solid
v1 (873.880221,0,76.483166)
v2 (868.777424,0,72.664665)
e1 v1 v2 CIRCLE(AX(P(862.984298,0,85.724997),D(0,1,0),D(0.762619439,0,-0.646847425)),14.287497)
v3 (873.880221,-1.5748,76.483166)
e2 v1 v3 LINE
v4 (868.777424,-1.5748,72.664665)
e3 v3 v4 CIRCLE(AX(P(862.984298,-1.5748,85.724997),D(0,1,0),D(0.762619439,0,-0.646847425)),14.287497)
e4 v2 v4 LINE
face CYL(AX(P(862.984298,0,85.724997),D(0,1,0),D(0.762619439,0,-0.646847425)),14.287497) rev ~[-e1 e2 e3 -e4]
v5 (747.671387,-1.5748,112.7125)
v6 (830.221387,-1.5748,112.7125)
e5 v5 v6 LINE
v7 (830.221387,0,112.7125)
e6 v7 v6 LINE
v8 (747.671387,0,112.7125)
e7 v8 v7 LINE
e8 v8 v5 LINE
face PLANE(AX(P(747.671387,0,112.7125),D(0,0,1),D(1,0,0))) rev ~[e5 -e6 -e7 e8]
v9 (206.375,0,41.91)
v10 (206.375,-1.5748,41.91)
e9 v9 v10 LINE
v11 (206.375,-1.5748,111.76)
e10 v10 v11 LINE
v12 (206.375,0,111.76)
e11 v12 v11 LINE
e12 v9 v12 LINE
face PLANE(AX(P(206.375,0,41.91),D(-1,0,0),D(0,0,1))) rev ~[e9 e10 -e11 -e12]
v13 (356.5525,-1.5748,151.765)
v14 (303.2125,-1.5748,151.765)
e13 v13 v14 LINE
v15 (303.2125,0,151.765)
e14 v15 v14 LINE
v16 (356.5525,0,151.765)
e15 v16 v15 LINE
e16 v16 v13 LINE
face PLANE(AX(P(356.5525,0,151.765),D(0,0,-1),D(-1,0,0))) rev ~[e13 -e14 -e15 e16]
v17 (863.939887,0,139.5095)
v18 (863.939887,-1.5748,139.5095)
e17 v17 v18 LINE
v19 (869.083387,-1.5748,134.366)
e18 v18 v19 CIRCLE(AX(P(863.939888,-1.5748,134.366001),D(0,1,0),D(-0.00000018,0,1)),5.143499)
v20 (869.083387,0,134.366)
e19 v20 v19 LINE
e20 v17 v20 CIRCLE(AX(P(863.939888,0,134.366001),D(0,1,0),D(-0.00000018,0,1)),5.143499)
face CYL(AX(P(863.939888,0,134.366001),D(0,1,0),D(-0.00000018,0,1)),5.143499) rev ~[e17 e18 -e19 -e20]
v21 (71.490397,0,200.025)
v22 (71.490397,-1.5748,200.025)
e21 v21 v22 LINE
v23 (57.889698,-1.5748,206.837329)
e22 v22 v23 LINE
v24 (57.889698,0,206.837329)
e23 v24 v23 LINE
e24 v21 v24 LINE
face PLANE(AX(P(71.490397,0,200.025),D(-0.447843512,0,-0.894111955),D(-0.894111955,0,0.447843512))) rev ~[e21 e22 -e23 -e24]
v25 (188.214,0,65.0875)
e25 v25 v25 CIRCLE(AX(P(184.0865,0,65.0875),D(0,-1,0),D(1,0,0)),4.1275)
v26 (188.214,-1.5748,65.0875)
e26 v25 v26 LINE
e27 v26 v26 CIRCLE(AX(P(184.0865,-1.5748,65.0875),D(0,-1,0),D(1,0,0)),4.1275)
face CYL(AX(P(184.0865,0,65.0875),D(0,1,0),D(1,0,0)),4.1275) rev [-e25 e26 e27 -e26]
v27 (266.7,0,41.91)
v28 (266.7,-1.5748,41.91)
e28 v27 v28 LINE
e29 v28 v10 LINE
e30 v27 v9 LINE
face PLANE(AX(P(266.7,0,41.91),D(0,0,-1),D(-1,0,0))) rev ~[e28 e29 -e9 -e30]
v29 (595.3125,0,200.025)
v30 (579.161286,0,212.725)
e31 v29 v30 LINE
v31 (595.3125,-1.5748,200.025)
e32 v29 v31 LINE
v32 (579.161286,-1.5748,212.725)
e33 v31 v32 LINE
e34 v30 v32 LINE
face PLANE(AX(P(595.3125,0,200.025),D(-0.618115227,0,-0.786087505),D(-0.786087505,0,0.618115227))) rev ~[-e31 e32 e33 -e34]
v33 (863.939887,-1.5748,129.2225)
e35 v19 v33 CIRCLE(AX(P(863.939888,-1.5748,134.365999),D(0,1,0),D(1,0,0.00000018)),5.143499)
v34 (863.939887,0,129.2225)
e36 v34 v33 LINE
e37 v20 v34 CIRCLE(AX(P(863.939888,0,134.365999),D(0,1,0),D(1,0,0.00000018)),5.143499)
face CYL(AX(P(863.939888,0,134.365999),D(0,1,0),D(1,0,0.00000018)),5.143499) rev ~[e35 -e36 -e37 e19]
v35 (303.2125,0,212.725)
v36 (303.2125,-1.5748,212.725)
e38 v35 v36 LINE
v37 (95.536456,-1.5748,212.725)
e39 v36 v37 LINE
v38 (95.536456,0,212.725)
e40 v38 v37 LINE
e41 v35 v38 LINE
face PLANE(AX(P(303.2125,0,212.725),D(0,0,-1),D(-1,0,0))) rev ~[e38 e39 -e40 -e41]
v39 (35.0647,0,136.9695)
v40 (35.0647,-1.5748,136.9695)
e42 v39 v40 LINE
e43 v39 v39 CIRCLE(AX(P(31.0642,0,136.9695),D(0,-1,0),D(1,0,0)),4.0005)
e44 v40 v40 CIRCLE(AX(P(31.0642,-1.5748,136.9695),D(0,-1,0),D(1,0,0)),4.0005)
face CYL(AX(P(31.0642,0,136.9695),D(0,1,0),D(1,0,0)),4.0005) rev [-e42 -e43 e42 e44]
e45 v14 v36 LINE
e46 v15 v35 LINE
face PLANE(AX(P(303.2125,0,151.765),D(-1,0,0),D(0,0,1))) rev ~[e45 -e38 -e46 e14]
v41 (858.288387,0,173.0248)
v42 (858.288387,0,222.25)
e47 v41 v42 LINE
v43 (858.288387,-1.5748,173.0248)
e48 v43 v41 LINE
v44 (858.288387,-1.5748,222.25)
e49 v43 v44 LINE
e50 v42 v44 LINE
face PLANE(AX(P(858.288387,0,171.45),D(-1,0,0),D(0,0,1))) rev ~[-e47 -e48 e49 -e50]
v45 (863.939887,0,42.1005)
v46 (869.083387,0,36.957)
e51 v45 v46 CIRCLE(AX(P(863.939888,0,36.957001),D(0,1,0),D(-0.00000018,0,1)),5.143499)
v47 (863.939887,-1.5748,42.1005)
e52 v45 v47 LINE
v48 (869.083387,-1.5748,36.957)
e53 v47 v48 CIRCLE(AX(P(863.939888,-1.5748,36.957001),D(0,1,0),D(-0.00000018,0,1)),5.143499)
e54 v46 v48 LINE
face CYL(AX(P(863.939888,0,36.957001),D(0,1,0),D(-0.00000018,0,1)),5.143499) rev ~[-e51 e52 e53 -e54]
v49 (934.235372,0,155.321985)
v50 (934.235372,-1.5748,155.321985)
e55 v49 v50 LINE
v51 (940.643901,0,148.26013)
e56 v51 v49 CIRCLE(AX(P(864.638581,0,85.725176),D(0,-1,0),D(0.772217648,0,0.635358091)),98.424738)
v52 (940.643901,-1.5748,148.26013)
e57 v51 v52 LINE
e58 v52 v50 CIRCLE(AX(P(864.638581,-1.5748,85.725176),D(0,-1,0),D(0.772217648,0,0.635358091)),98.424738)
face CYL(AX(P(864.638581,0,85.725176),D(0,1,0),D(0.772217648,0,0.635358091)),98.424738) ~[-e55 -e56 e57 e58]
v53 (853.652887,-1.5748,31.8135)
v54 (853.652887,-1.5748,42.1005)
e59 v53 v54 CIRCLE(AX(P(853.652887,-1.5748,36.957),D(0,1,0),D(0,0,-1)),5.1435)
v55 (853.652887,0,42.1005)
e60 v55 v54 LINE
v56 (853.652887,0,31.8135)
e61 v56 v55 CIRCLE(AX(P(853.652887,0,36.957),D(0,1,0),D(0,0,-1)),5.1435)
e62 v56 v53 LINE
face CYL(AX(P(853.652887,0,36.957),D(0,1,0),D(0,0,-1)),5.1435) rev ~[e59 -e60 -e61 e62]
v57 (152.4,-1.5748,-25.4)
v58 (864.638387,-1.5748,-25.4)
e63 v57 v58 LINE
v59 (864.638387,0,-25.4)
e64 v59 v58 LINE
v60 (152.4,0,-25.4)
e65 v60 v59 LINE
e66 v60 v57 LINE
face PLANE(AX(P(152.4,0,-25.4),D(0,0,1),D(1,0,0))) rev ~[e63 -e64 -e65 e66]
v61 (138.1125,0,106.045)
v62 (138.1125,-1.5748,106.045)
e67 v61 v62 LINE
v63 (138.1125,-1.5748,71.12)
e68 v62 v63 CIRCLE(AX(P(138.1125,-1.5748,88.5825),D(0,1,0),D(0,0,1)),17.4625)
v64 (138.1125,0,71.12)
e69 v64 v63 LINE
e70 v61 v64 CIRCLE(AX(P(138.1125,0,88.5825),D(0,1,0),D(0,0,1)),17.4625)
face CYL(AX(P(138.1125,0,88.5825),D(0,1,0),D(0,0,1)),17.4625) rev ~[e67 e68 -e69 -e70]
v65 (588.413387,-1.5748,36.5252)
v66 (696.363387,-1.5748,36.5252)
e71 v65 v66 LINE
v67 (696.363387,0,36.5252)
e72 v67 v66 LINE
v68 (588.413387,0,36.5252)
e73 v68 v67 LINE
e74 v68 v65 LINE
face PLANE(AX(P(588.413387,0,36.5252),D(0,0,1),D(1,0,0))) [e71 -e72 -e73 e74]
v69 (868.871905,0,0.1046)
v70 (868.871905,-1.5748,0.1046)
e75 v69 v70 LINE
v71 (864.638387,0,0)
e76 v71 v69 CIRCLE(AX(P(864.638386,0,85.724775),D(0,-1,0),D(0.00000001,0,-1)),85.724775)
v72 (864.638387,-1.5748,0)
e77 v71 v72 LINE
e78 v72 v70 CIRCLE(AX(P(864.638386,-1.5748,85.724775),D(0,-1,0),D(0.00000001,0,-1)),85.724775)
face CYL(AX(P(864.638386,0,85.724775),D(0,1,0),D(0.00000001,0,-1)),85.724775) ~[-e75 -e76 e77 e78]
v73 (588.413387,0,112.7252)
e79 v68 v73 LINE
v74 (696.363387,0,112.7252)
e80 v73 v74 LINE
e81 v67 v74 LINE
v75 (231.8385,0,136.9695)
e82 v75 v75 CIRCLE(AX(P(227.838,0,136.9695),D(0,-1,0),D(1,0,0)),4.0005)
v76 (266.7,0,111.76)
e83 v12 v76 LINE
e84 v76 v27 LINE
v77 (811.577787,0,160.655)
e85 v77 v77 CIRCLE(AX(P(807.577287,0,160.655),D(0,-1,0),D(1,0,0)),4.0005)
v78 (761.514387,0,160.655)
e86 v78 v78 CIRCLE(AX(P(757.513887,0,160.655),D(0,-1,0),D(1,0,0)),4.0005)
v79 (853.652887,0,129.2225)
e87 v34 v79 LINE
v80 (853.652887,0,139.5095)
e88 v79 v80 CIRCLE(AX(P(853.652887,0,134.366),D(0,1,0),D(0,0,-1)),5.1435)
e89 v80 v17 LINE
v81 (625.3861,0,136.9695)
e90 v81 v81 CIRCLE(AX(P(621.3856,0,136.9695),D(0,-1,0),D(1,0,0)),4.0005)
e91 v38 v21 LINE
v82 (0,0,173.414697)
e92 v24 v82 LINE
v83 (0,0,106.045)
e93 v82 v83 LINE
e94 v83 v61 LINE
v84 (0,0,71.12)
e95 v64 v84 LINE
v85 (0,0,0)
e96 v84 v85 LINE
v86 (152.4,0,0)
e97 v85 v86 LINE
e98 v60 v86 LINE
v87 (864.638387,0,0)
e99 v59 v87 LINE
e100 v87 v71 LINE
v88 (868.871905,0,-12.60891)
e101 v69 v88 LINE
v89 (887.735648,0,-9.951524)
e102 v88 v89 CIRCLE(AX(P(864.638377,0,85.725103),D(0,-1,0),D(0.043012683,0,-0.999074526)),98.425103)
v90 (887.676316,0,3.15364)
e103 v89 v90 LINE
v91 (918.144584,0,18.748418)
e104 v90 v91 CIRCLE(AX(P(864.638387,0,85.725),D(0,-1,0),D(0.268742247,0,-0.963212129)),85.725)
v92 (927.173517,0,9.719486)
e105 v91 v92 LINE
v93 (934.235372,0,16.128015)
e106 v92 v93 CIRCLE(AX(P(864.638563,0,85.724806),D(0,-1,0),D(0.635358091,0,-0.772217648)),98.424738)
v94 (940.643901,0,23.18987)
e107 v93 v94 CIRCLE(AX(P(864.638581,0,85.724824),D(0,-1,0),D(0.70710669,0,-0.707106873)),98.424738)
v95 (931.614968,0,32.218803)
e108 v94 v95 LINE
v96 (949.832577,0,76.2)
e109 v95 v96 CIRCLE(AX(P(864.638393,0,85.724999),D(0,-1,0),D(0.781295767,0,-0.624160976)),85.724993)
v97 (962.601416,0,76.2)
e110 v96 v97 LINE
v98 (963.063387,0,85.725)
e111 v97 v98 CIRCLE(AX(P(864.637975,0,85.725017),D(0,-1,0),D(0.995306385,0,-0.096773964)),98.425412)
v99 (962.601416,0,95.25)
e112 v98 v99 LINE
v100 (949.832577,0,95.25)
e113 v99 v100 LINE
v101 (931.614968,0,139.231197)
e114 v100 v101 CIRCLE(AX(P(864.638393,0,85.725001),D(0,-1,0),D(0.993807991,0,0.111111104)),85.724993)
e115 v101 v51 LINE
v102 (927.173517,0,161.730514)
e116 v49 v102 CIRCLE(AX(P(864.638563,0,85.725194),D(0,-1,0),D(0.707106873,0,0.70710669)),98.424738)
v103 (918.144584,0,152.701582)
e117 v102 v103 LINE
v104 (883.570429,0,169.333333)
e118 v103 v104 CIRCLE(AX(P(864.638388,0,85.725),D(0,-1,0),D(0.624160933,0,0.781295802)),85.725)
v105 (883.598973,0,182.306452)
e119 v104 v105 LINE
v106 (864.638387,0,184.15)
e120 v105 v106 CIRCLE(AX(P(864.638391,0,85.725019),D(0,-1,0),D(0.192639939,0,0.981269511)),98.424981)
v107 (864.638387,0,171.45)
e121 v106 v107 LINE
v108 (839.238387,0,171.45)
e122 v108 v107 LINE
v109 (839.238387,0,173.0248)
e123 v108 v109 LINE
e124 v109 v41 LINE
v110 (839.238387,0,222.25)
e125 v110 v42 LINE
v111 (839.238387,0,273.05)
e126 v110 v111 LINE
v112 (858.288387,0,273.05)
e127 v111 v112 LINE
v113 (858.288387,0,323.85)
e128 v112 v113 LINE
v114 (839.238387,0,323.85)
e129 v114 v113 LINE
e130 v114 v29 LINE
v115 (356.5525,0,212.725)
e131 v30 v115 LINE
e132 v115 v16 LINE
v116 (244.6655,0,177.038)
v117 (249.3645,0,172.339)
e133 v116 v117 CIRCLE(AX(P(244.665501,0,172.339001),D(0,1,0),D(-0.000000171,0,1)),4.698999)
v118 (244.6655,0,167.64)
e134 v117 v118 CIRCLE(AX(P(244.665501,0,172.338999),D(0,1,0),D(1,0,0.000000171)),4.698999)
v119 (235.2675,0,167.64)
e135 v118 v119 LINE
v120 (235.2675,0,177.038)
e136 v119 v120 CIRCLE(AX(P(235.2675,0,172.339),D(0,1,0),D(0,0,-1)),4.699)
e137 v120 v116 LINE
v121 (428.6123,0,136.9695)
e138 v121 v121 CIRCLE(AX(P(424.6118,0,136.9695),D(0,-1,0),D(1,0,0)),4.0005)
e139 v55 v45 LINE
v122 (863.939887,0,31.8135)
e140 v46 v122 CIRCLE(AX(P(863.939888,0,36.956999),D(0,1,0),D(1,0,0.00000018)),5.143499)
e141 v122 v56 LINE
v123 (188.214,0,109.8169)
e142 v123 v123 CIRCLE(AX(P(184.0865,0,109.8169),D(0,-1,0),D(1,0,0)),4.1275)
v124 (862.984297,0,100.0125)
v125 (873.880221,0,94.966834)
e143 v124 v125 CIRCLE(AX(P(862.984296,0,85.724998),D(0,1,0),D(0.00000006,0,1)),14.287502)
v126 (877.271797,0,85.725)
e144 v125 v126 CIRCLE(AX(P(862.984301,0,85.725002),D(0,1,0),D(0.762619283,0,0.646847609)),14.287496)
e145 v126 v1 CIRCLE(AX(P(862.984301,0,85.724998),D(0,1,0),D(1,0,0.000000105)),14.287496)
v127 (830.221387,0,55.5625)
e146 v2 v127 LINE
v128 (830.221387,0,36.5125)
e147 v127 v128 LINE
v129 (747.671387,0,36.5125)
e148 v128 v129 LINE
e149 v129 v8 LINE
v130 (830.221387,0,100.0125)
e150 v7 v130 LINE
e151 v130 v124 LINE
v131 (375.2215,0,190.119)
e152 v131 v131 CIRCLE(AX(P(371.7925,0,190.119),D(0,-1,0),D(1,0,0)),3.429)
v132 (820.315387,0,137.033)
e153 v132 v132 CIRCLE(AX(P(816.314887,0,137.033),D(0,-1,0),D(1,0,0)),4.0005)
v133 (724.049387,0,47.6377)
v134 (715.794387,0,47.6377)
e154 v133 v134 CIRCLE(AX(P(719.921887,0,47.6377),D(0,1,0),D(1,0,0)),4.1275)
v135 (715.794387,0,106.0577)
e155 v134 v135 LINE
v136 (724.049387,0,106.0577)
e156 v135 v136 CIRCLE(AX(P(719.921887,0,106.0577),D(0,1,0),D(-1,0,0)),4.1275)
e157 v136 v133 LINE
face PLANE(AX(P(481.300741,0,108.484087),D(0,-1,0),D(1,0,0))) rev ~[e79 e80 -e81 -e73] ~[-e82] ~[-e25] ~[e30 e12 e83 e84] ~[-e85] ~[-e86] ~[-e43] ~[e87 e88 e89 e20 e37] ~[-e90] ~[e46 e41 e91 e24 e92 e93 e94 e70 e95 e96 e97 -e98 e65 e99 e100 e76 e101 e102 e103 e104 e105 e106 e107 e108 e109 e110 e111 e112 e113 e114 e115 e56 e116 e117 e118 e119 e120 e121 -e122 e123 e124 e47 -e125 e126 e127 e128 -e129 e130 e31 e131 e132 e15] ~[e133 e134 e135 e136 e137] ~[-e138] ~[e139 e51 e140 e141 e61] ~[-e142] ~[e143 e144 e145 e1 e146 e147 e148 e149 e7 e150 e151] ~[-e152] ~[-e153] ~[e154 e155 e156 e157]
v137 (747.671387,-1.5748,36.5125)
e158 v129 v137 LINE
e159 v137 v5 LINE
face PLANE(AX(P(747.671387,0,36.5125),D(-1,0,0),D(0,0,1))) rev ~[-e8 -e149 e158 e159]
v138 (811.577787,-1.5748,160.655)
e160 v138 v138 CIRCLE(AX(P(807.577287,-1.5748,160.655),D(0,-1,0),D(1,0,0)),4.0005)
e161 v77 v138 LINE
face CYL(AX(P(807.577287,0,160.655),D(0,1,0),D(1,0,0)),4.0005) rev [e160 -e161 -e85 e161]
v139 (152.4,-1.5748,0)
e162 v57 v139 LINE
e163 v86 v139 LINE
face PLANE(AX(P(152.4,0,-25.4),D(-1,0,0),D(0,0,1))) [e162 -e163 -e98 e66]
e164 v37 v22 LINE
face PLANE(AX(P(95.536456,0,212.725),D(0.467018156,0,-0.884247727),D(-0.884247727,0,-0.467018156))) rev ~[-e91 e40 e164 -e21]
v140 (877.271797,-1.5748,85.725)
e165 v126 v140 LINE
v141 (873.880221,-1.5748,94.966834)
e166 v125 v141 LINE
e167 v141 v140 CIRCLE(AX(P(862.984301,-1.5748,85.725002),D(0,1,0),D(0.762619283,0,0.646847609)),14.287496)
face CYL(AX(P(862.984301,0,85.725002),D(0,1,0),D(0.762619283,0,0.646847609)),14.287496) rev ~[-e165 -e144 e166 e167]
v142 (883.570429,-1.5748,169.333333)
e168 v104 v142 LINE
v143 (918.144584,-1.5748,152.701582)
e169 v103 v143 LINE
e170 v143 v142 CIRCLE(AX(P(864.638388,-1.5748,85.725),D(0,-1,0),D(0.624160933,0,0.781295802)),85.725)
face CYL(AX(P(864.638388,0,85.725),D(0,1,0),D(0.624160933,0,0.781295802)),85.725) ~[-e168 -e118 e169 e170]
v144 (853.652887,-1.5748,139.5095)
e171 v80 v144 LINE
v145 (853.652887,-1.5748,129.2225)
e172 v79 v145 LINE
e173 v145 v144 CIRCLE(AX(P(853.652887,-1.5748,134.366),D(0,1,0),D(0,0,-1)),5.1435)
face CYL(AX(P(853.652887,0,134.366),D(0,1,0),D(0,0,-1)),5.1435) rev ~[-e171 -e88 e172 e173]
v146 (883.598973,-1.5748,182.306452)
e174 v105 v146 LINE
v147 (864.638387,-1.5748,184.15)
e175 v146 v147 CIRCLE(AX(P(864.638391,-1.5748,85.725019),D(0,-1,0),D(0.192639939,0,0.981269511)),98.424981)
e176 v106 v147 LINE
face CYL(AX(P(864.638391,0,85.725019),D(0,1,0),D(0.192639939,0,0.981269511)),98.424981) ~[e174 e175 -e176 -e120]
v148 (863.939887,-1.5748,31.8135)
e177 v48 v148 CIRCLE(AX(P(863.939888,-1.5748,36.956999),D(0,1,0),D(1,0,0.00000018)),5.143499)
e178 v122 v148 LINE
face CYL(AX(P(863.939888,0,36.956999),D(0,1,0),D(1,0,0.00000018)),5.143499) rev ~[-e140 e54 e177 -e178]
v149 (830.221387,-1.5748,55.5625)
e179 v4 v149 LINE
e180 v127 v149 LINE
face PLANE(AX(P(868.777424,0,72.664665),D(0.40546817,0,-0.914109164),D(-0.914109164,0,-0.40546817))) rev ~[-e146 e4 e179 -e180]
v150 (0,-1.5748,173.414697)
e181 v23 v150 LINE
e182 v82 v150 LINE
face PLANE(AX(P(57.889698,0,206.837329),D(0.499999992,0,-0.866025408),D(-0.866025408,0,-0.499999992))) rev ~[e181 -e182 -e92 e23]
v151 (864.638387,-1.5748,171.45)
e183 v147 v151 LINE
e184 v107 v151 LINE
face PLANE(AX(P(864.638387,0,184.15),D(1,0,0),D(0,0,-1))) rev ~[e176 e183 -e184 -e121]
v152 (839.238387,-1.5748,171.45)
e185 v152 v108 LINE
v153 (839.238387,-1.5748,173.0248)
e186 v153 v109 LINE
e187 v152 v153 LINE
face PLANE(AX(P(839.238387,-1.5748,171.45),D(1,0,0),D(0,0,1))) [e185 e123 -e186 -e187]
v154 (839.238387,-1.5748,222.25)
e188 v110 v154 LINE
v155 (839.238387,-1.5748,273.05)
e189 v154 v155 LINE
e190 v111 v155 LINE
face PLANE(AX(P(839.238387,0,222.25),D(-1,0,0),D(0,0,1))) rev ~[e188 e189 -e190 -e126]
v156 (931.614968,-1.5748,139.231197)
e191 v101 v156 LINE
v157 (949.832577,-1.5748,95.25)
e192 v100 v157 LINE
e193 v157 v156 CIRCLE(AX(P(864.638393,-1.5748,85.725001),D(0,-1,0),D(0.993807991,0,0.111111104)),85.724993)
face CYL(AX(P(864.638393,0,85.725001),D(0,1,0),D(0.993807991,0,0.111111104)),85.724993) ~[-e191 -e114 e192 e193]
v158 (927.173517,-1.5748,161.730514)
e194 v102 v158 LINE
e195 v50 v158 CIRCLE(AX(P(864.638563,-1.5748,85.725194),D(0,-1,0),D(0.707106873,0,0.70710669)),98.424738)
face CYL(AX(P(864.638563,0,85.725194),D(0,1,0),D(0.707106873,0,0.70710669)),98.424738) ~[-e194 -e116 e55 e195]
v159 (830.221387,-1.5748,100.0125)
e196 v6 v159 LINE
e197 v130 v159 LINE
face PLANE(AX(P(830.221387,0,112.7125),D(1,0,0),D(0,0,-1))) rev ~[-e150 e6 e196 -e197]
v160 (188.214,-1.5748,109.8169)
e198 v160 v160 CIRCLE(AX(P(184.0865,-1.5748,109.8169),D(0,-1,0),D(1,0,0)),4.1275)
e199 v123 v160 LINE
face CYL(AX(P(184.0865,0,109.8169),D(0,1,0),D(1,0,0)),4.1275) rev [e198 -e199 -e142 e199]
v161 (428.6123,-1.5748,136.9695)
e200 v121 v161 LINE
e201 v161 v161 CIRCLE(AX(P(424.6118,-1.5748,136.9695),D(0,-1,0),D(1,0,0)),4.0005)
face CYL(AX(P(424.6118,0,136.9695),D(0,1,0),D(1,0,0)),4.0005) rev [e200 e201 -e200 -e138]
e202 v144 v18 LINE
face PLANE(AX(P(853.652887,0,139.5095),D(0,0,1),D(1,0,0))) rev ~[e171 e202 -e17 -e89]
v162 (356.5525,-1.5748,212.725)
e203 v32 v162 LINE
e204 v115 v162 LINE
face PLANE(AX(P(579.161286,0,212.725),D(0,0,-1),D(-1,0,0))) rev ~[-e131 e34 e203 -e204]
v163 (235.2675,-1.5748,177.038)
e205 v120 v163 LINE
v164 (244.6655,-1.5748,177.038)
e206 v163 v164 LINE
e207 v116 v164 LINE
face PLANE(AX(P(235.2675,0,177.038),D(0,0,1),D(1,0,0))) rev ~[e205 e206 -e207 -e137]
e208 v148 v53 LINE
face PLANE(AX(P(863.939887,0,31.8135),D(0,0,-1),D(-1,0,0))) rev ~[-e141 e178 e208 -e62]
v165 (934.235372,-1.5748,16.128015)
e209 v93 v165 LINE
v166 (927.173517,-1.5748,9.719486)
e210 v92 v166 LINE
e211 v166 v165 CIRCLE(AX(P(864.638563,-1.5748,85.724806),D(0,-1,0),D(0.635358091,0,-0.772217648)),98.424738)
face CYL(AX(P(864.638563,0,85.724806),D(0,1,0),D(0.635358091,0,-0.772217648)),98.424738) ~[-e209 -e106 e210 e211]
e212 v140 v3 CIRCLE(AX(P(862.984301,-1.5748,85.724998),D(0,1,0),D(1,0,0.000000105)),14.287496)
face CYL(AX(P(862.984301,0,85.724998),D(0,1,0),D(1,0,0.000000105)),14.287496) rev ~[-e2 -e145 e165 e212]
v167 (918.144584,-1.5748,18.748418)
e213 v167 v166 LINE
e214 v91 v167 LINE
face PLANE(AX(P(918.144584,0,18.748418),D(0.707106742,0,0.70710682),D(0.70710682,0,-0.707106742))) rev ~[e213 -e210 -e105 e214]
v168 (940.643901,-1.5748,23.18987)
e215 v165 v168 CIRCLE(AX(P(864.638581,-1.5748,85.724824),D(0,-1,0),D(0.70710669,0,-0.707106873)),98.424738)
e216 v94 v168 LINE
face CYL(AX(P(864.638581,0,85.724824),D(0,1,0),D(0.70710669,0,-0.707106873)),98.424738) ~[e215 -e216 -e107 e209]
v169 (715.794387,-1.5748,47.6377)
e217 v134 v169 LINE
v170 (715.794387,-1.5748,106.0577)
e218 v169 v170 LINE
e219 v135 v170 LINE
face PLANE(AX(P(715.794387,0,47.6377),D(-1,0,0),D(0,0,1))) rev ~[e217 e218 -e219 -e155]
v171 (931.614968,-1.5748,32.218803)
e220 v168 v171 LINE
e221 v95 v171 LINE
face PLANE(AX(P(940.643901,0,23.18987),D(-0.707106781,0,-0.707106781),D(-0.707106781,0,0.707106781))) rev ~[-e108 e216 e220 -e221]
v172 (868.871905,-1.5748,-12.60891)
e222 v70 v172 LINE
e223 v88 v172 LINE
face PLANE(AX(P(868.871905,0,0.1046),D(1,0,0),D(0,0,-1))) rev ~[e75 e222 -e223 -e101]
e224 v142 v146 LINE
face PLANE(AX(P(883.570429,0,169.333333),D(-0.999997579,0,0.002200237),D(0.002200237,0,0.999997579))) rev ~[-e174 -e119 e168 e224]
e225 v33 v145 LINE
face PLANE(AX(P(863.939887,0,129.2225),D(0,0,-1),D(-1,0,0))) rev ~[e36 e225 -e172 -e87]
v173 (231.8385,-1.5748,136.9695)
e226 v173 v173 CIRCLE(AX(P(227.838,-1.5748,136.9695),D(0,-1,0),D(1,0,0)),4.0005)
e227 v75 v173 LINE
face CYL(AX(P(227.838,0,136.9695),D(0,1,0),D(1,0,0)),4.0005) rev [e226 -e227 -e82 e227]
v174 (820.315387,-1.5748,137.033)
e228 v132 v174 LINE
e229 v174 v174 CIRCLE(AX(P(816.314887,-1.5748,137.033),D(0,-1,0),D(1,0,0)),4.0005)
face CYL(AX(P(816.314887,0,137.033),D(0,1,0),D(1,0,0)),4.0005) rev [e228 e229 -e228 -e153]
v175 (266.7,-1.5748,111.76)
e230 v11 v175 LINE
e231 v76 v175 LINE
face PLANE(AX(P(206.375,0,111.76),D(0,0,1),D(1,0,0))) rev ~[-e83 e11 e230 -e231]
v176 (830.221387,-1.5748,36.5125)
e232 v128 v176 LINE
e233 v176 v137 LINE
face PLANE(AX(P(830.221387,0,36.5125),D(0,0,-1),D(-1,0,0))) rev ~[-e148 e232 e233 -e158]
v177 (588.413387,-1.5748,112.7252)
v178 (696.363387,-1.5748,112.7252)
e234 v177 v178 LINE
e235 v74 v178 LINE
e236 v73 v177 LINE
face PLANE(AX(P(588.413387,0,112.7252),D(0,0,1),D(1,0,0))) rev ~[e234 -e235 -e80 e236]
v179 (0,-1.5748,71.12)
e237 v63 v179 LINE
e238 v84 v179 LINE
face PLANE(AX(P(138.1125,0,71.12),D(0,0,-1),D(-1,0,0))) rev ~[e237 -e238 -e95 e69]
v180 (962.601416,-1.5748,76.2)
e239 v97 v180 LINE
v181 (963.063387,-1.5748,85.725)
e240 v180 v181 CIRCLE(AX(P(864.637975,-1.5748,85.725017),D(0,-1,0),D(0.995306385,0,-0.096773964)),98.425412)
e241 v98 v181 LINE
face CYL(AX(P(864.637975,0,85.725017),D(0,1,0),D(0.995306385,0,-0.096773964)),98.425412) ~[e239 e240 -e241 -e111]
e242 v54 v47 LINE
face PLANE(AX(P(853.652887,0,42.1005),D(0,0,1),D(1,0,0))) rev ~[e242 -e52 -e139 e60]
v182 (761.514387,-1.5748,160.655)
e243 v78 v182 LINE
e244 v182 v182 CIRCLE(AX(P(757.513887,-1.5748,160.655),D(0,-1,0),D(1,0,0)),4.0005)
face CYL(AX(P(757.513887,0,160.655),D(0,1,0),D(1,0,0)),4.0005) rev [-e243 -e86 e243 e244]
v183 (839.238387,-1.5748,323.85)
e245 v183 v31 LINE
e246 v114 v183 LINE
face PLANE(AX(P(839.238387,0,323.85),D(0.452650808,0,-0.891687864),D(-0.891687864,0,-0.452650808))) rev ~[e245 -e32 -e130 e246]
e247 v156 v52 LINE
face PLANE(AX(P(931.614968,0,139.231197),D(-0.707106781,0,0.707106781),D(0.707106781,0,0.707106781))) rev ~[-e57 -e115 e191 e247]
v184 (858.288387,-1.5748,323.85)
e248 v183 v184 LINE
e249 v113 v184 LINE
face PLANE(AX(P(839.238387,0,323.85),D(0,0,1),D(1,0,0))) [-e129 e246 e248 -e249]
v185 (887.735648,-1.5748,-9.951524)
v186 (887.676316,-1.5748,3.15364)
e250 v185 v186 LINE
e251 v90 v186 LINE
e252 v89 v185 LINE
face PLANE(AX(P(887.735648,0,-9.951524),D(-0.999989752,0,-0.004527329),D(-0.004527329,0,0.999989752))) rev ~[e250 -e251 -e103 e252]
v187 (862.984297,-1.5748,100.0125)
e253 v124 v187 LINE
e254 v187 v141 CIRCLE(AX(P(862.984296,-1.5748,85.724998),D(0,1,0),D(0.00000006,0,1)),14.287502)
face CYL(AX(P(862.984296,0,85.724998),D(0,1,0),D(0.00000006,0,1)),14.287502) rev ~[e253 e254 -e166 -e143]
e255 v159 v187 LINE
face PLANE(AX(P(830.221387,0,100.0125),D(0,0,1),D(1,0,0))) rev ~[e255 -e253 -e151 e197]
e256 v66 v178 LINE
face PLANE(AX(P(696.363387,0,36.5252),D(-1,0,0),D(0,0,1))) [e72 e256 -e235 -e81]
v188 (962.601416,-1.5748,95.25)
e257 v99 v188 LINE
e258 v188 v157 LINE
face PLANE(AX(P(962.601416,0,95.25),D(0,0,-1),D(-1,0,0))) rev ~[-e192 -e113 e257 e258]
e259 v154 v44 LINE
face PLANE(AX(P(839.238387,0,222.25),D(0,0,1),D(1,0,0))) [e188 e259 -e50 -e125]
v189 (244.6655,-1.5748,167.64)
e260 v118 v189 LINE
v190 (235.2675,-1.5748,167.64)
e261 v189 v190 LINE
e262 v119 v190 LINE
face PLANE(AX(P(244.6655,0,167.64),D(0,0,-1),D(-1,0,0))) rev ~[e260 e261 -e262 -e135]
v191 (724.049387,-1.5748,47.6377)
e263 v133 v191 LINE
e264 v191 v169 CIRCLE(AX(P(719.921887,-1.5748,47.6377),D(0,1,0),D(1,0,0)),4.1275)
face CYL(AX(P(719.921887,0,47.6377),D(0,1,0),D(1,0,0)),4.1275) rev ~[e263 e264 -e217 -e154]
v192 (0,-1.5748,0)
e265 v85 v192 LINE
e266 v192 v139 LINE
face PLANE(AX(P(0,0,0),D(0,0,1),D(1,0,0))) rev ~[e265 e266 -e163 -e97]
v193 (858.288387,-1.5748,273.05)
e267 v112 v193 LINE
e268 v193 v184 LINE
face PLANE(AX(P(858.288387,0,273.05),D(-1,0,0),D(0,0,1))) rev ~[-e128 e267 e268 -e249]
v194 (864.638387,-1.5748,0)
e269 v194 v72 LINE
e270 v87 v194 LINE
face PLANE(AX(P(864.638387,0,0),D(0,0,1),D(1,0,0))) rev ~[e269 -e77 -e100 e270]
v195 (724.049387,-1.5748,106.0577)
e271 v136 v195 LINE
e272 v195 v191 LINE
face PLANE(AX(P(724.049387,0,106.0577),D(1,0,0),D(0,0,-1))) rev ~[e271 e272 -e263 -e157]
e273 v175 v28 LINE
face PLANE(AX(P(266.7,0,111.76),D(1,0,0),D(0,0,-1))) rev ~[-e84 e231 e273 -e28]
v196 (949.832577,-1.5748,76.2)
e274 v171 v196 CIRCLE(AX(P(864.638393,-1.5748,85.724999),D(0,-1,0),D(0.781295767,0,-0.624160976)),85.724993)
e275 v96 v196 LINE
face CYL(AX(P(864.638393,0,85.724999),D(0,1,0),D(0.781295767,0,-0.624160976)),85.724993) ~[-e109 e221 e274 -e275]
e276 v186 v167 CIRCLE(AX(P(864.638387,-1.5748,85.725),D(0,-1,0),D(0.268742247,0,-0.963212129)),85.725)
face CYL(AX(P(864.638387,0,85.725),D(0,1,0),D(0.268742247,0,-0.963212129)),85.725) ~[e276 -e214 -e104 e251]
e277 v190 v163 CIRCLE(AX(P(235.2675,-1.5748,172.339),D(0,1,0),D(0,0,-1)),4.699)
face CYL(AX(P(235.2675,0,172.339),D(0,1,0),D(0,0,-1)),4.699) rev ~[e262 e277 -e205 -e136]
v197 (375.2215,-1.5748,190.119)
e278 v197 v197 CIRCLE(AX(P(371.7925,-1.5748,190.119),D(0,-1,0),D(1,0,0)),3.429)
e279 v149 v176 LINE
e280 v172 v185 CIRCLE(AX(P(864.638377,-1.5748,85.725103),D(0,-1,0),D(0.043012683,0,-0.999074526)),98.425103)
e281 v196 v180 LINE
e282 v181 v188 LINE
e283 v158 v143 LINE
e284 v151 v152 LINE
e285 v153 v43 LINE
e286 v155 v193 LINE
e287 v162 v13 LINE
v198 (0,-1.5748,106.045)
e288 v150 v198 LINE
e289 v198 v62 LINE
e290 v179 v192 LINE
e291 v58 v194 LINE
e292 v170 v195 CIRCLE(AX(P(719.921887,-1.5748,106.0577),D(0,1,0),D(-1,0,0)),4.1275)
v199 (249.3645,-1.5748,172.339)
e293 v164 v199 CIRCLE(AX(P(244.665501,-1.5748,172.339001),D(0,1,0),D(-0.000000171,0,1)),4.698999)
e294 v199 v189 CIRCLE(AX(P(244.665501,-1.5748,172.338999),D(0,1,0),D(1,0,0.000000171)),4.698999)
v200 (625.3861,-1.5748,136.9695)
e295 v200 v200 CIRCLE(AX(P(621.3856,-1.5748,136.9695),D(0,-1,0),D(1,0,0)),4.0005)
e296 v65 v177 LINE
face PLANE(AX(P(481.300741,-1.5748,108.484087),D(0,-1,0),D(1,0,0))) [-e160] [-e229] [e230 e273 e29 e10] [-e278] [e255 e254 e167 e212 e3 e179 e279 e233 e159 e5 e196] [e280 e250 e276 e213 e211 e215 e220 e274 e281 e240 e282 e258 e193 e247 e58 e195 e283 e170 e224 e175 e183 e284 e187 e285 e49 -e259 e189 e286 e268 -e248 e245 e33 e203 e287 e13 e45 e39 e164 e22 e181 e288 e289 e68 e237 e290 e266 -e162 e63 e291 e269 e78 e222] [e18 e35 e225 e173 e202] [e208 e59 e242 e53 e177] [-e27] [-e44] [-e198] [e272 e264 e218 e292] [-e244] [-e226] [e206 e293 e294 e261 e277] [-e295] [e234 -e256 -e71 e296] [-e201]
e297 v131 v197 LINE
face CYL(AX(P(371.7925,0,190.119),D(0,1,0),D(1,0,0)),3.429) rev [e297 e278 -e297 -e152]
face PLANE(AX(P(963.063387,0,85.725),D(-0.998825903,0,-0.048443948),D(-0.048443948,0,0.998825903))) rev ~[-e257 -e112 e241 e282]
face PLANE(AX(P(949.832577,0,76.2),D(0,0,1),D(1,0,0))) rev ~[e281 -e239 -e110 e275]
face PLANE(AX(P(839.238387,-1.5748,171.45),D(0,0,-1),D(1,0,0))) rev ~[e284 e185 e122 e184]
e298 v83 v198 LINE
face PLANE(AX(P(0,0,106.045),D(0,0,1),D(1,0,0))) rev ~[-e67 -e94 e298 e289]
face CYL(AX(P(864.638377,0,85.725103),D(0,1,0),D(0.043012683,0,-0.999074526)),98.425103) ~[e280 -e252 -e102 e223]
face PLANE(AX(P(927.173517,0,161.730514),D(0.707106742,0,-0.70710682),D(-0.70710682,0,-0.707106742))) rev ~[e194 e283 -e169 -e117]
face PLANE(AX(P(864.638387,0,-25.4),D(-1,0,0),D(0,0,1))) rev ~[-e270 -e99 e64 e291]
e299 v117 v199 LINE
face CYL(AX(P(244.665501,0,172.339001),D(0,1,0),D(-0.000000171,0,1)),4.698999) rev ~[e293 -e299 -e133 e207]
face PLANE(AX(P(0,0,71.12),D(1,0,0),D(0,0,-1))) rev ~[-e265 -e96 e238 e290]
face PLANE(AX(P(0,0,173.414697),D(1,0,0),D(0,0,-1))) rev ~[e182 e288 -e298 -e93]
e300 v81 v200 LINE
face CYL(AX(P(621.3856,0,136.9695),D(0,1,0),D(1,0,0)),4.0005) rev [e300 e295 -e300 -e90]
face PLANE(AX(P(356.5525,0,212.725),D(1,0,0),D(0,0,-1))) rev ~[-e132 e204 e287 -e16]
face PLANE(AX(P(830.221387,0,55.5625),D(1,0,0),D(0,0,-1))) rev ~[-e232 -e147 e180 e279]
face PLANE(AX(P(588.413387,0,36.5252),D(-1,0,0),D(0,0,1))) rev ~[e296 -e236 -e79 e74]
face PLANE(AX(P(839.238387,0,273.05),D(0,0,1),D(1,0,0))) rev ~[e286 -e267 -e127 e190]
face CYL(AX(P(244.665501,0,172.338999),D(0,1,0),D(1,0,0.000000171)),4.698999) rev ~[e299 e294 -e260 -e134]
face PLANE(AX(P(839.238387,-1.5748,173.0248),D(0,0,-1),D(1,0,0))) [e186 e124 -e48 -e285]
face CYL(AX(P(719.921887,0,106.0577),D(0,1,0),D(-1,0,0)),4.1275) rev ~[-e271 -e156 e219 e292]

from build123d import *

# Parameters (mm, degrees)
F0_R     = 4.1275
F0_R_2   = 4.0005
F0_W     = 107.95
F0_H     = 76.2
F0_R_3   = 3.429
F0_W_2   = 712.238387
F0_H_2   = 25.4
F0_W_3   = 19.05
F0_H_3   = 50.8
F1_DEPTH = 1.5748
F2_W     = 19.05
F2_H     = 1.5748
F3_DEPTH = 25.4


with BuildPart() as f1:
    # F0 (on Front) → F1 (new body)
    with BuildSketch(Plane.XZ):
        with BuildLine():
            Line((0, 71.12), (0, 0))
            Line((0, 0), (152.4, 0))
            Line((152.4, 0), (864.638387, 0))
            ThreePointArc((864.638387, 0), (866.755792, 0.026154), (868.871905, 0.1046))
            ThreePointArc((868.871905, 0.1046), (878.359069, 1.105153), (887.676316, 3.15364))
            ThreePointArc((887.676316, 3.15364), (903.696678, 9.414938), (918.144584, 18.748418))
            ThreePointArc((918.144584, 18.748418), (921.788387, 21.829358), (925.255116, 25.108271))
            Line((925.255116, 25.108271), (873.880221, 76.483166))
            ThreePointArc((873.880221, 76.483166), (871.544457, 74.285755), (868.777424, 72.664665))
            Line((868.777424, 72.664665), (830.221387, 55.5625))
            Line((830.221387, 55.5625), (830.221387, 36.5125))
            Line((830.221387, 36.5125), (747.671387, 36.5125))
            Line((747.671387, 36.5125), (747.671387, 112.7125))
            Line((747.671387, 112.7125), (830.221387, 112.7125))
            Line((830.221387, 112.7125), (830.221387, 100.0125))
            Line((830.221387, 100.0125), (862.984297, 100.0125))
            ThreePointArc((862.984297, 100.0125), (868.988044, 98.689863), (873.880221, 94.966834))
            Line((873.880221, 94.966834), (925.255116, 146.341729))
            ThreePointArc((925.255116, 146.341729), (921.788387, 149.620642), (918.144584, 152.701582))
            ThreePointArc((918.144584, 152.701582), (901.799905, 162.976519), (883.570429, 169.333333))
            ThreePointArc((883.570429, 169.333333), (874.163387, 170.91919), (864.638387, 171.45))
            Line((864.638387, 171.45), (858.288387, 171.45))
            Line((858.288387, 171.45), (839.238387, 171.45))
            Line((839.238387, 171.45), (839.238387, 222.25))
            Line((839.238387, 222.25), (839.238387, 273.05))
            Line((839.238387, 273.05), (839.238387, 323.85))
            Line((839.238387, 323.85), (595.3125, 200.025))
            Line((595.3125, 200.025), (455.231453, 200.025))
            Line((455.231453, 200.025), (439.727616, 200.025))
            Line((439.727616, 200.025), (356.5525, 200.025))
            Line((356.5525, 200.025), (356.5525, 151.765))
            Line((356.5525, 151.765), (303.2125, 151.765))
            Line((303.2125, 151.765), (303.2125, 200.025))
            Line((303.2125, 200.025), (71.490397, 200.025))
            Line((71.490397, 200.025), (0, 158.75))
            Line((0, 158.75), (0, 106.045))
            Line((0, 106.045), (138.1125, 106.045))
            ThreePointArc((138.1125, 106.045), (155.575, 88.5825), (138.1125, 71.12))
            Line((138.1125, 71.12), (0, 71.12))
        make_face()
        with Locations((184.0865, 65.0875)):
            Circle(F0_R, mode=Mode.SUBTRACT)
        Polygon((206.375, 41.91), (206.375, 88.5825), (206.375, 111.76), (266.7, 111.76), (266.7, 41.91), align=None, mode=Mode.SUBTRACT)
        with Locations((31.0642, 136.9695)):
            Circle(F0_R_2, mode=Mode.SUBTRACT)
        with Locations((184.0865, 109.8169)):
            Circle(F0_R, mode=Mode.SUBTRACT)
        with Locations((227.838, 136.9695)):
            Circle(F0_R_2, mode=Mode.SUBTRACT)
        with Locations((424.6118, 136.9695)):
            Circle(F0_R_2, mode=Mode.SUBTRACT)
        with BuildLine():
            ThreePointArc((853.652887, 31.8135), (848.509387, 36.957), (853.652887, 42.1005))
            Line((853.652887, 42.1005), (863.939887, 42.1005))
            ThreePointArc((863.939887, 42.1005), (867.576891, 40.594004), (869.083387, 36.957))
            ThreePointArc((869.083387, 36.957), (867.576891, 33.319996), (863.939887, 31.8135))
            Line((863.939887, 31.8135), (853.652887, 31.8135))
        make_face(mode=Mode.SUBTRACT)
        with Locations((642.388387, 74.6252)):
            Rectangle(F0_W, F0_H, mode=Mode.SUBTRACT)
        with BuildLine():
            ThreePointArc((715.794387, 106.0577), (719.921887, 110.1852), (724.049387, 106.0577))
            Line((724.049387, 106.0577), (724.049387, 47.6377))
            ThreePointArc((724.049387, 47.6377), (719.921887, 43.5102), (715.794387, 47.6377))
            Line((715.794387, 47.6377), (715.794387, 106.0577))
        make_face(mode=Mode.SUBTRACT)
        with Locations((621.3856, 136.9695)):
            Circle(F0_R_2, mode=Mode.SUBTRACT)
        with Locations((816.314887, 137.033)):
            Circle(F0_R_2, mode=Mode.SUBTRACT)
        with BuildLine():
            ThreePointArc((853.652887, 129.2225), (848.509387, 134.366), (853.652887, 139.5095))
            Line((853.652887, 139.5095), (863.939887, 139.5095))
            ThreePointArc((863.939887, 139.5095), (867.576891, 138.003004), (869.083387, 134.366))
            ThreePointArc((869.083387, 134.366), (867.576891, 130.728996), (863.939887, 129.2225))
            Line((863.939887, 129.2225), (853.652887, 129.2225))
        make_face(mode=Mode.SUBTRACT)
        with BuildLine():
            ThreePointArc((244.6655, 177.038), (247.988195, 175.661695), (249.3645, 172.339))
            ThreePointArc((249.3645, 172.339), (247.988195, 169.016305), (244.6655, 167.64))
            Line((244.6655, 167.64), (235.2675, 167.64))
            ThreePointArc((235.2675, 167.64), (230.5685, 172.339), (235.2675, 177.038))
            Line((235.2675, 177.038), (244.6655, 177.038))
        make_face(mode=Mode.SUBTRACT)
        with Locations((371.7925, 190.119)):
            Circle(F0_R_3, mode=Mode.SUBTRACT)
        with Locations((757.513887, 160.655)):
            Circle(F0_R_2, mode=Mode.SUBTRACT)
        with Locations((807.577287, 160.655)):
            Circle(F0_R_2, mode=Mode.SUBTRACT)
        with BuildLine():
            ThreePointArc((873.880221, 94.966834), (876.39713, 90.647253), (877.271797, 85.725))
            Line((877.271797, 85.725), (950.363387, 85.725))
            ThreePointArc((950.363387, 85.725), (950.230582, 90.49489), (949.832577, 95.25))
            ThreePointArc((949.832577, 95.25), (943.83796, 118.530537), (931.614968, 139.231197))
            ThreePointArc((931.614968, 139.231197), (928.534029, 142.875), (925.255116, 146.341729))
            Line((925.255116, 146.341729), (873.880221, 94.966834))
        make_face()
        with BuildLine():
            Line((873.880221, 76.483166), (925.255116, 25.108271))
            ThreePointArc((925.255116, 25.108271), (928.534029, 28.575), (931.614968, 32.218803))
            ThreePointArc((931.614968, 32.218803), (943.83796, 52.919463), (949.832577, 76.2))
            ThreePointArc((949.832577, 76.2), (950.230582, 80.95511), (950.363387, 85.725))
            Line((950.363387, 85.725), (877.271797, 85.725))
            ThreePointArc((877.271797, 85.725), (876.39713, 80.802747), (873.880221, 76.483166))
        make_face()
        with BuildLine():
            ThreePointArc((950.363387, 85.725), (950.230582, 80.95511), (949.832577, 76.2))
            Line((949.832577, 76.2), (962.601416, 76.2))
            ThreePointArc((962.601416, 76.2), (962.947826, 80.956902), (963.063387, 85.725))
            Line((963.063387, 85.725), (950.363387, 85.725))
        make_face()
        with BuildLine():
            ThreePointArc((949.832577, 95.25), (950.230582, 90.49489), (950.363387, 85.725))
            Line((950.363387, 85.725), (963.063387, 85.725))
            Line((963.063387, 85.725), (962.601416, 95.25))
            Line((962.601416, 95.25), (949.832577, 95.25))
        make_face()
        with BuildLine():
            Line((934.235372, 155.321985), (925.255116, 146.341729))
            ThreePointArc((925.255116, 146.341729), (928.534029, 142.875), (931.614968, 139.231197))
            Line((931.614968, 139.231197), (940.643901, 148.26013))
            ThreePointArc((940.643901, 148.26013), (937.525213, 151.868717), (934.235372, 155.321985))
        make_face()
        with BuildLine():
            ThreePointArc((918.144584, 152.701582), (921.788387, 149.620642), (925.255116, 146.341729))
            Line((925.255116, 146.341729), (934.235372, 155.321985))
            ThreePointArc((934.235372, 155.321985), (930.782104, 158.611826), (927.173517, 161.730514))
            Line((927.173517, 161.730514), (918.144584, 152.701582))
        make_face()
        with BuildLine():
            ThreePointArc((864.638387, 171.45), (874.163387, 170.91919), (883.570429, 169.333333))
            Line((883.570429, 169.333333), (883.598973, 182.306452))
            ThreePointArc((883.598973, 182.306452), (874.163387, 183.688029), (864.638387, 184.15))
            Line((864.638387, 184.15), (864.638387, 171.45))
        make_face()
        with BuildLine():
            ThreePointArc((931.614968, 32.218803), (928.534029, 28.575), (925.255116, 25.108271))
            Line((925.255116, 25.108271), (934.235372, 16.128015))
            ThreePointArc((934.235372, 16.128015), (937.525213, 19.581283), (940.643901, 23.18987))
            Line((940.643901, 23.18987), (931.614968, 32.218803))
        make_face()
        with BuildLine():
            ThreePointArc((925.255116, 25.108271), (921.788387, 21.829358), (918.144584, 18.748418))
            Line((918.144584, 18.748418), (927.173517, 9.719486))
            ThreePointArc((927.173517, 9.719486), (930.782104, 12.838174), (934.235372, 16.128015))
            Line((934.235372, 16.128015), (925.255116, 25.108271))
        make_face()
        with BuildLine():
            ThreePointArc((887.676316, 3.15364), (878.359069, 1.105153), (868.871905, 0.1046))
            Line((868.871905, 0.1046), (868.871905, -12.60891))
            ThreePointArc((868.871905, -12.60891), (878.368219, -11.737671), (887.735648, -9.951524))
            Line((887.735648, -9.951524), (887.676316, 3.15364))
        make_face()
        with Locations((508.519193, -12.7)):
            Rectangle(F0_W_2, F0_H_2)
        with Locations((848.763387, 196.85)):
            Rectangle(F0_W_3, F0_H_3)
        with Locations((848.763387, 298.45)):
            Rectangle(F0_W_3, F0_H_3)
        Polygon((356.5525, 212.725), (356.5525, 200.025), (439.727616, 200.025), (455.231453, 200.025), (595.3125, 200.025), (579.161286, 212.725), align=None)
        Polygon((95.536456, 212.725), (71.490397, 200.025), (303.2125, 200.025), (303.2125, 212.725), align=None)
        Polygon((0, 173.414697), (0, 158.75), (71.490397, 200.025), (57.889698, 206.837329), align=None)
    extrude(amount=F1_DEPTH)

    # F2 (on face) → F3 (cut)
    with BuildSketch(Plane.XZ.offset(1.5748)):
        with Locations((848.763387, 172.2374)):
            Rectangle(F2_W, F2_H)
    extrude(amount=-F3_DEPTH, mode=Mode.SUBTRACT)


solid = f1.part
